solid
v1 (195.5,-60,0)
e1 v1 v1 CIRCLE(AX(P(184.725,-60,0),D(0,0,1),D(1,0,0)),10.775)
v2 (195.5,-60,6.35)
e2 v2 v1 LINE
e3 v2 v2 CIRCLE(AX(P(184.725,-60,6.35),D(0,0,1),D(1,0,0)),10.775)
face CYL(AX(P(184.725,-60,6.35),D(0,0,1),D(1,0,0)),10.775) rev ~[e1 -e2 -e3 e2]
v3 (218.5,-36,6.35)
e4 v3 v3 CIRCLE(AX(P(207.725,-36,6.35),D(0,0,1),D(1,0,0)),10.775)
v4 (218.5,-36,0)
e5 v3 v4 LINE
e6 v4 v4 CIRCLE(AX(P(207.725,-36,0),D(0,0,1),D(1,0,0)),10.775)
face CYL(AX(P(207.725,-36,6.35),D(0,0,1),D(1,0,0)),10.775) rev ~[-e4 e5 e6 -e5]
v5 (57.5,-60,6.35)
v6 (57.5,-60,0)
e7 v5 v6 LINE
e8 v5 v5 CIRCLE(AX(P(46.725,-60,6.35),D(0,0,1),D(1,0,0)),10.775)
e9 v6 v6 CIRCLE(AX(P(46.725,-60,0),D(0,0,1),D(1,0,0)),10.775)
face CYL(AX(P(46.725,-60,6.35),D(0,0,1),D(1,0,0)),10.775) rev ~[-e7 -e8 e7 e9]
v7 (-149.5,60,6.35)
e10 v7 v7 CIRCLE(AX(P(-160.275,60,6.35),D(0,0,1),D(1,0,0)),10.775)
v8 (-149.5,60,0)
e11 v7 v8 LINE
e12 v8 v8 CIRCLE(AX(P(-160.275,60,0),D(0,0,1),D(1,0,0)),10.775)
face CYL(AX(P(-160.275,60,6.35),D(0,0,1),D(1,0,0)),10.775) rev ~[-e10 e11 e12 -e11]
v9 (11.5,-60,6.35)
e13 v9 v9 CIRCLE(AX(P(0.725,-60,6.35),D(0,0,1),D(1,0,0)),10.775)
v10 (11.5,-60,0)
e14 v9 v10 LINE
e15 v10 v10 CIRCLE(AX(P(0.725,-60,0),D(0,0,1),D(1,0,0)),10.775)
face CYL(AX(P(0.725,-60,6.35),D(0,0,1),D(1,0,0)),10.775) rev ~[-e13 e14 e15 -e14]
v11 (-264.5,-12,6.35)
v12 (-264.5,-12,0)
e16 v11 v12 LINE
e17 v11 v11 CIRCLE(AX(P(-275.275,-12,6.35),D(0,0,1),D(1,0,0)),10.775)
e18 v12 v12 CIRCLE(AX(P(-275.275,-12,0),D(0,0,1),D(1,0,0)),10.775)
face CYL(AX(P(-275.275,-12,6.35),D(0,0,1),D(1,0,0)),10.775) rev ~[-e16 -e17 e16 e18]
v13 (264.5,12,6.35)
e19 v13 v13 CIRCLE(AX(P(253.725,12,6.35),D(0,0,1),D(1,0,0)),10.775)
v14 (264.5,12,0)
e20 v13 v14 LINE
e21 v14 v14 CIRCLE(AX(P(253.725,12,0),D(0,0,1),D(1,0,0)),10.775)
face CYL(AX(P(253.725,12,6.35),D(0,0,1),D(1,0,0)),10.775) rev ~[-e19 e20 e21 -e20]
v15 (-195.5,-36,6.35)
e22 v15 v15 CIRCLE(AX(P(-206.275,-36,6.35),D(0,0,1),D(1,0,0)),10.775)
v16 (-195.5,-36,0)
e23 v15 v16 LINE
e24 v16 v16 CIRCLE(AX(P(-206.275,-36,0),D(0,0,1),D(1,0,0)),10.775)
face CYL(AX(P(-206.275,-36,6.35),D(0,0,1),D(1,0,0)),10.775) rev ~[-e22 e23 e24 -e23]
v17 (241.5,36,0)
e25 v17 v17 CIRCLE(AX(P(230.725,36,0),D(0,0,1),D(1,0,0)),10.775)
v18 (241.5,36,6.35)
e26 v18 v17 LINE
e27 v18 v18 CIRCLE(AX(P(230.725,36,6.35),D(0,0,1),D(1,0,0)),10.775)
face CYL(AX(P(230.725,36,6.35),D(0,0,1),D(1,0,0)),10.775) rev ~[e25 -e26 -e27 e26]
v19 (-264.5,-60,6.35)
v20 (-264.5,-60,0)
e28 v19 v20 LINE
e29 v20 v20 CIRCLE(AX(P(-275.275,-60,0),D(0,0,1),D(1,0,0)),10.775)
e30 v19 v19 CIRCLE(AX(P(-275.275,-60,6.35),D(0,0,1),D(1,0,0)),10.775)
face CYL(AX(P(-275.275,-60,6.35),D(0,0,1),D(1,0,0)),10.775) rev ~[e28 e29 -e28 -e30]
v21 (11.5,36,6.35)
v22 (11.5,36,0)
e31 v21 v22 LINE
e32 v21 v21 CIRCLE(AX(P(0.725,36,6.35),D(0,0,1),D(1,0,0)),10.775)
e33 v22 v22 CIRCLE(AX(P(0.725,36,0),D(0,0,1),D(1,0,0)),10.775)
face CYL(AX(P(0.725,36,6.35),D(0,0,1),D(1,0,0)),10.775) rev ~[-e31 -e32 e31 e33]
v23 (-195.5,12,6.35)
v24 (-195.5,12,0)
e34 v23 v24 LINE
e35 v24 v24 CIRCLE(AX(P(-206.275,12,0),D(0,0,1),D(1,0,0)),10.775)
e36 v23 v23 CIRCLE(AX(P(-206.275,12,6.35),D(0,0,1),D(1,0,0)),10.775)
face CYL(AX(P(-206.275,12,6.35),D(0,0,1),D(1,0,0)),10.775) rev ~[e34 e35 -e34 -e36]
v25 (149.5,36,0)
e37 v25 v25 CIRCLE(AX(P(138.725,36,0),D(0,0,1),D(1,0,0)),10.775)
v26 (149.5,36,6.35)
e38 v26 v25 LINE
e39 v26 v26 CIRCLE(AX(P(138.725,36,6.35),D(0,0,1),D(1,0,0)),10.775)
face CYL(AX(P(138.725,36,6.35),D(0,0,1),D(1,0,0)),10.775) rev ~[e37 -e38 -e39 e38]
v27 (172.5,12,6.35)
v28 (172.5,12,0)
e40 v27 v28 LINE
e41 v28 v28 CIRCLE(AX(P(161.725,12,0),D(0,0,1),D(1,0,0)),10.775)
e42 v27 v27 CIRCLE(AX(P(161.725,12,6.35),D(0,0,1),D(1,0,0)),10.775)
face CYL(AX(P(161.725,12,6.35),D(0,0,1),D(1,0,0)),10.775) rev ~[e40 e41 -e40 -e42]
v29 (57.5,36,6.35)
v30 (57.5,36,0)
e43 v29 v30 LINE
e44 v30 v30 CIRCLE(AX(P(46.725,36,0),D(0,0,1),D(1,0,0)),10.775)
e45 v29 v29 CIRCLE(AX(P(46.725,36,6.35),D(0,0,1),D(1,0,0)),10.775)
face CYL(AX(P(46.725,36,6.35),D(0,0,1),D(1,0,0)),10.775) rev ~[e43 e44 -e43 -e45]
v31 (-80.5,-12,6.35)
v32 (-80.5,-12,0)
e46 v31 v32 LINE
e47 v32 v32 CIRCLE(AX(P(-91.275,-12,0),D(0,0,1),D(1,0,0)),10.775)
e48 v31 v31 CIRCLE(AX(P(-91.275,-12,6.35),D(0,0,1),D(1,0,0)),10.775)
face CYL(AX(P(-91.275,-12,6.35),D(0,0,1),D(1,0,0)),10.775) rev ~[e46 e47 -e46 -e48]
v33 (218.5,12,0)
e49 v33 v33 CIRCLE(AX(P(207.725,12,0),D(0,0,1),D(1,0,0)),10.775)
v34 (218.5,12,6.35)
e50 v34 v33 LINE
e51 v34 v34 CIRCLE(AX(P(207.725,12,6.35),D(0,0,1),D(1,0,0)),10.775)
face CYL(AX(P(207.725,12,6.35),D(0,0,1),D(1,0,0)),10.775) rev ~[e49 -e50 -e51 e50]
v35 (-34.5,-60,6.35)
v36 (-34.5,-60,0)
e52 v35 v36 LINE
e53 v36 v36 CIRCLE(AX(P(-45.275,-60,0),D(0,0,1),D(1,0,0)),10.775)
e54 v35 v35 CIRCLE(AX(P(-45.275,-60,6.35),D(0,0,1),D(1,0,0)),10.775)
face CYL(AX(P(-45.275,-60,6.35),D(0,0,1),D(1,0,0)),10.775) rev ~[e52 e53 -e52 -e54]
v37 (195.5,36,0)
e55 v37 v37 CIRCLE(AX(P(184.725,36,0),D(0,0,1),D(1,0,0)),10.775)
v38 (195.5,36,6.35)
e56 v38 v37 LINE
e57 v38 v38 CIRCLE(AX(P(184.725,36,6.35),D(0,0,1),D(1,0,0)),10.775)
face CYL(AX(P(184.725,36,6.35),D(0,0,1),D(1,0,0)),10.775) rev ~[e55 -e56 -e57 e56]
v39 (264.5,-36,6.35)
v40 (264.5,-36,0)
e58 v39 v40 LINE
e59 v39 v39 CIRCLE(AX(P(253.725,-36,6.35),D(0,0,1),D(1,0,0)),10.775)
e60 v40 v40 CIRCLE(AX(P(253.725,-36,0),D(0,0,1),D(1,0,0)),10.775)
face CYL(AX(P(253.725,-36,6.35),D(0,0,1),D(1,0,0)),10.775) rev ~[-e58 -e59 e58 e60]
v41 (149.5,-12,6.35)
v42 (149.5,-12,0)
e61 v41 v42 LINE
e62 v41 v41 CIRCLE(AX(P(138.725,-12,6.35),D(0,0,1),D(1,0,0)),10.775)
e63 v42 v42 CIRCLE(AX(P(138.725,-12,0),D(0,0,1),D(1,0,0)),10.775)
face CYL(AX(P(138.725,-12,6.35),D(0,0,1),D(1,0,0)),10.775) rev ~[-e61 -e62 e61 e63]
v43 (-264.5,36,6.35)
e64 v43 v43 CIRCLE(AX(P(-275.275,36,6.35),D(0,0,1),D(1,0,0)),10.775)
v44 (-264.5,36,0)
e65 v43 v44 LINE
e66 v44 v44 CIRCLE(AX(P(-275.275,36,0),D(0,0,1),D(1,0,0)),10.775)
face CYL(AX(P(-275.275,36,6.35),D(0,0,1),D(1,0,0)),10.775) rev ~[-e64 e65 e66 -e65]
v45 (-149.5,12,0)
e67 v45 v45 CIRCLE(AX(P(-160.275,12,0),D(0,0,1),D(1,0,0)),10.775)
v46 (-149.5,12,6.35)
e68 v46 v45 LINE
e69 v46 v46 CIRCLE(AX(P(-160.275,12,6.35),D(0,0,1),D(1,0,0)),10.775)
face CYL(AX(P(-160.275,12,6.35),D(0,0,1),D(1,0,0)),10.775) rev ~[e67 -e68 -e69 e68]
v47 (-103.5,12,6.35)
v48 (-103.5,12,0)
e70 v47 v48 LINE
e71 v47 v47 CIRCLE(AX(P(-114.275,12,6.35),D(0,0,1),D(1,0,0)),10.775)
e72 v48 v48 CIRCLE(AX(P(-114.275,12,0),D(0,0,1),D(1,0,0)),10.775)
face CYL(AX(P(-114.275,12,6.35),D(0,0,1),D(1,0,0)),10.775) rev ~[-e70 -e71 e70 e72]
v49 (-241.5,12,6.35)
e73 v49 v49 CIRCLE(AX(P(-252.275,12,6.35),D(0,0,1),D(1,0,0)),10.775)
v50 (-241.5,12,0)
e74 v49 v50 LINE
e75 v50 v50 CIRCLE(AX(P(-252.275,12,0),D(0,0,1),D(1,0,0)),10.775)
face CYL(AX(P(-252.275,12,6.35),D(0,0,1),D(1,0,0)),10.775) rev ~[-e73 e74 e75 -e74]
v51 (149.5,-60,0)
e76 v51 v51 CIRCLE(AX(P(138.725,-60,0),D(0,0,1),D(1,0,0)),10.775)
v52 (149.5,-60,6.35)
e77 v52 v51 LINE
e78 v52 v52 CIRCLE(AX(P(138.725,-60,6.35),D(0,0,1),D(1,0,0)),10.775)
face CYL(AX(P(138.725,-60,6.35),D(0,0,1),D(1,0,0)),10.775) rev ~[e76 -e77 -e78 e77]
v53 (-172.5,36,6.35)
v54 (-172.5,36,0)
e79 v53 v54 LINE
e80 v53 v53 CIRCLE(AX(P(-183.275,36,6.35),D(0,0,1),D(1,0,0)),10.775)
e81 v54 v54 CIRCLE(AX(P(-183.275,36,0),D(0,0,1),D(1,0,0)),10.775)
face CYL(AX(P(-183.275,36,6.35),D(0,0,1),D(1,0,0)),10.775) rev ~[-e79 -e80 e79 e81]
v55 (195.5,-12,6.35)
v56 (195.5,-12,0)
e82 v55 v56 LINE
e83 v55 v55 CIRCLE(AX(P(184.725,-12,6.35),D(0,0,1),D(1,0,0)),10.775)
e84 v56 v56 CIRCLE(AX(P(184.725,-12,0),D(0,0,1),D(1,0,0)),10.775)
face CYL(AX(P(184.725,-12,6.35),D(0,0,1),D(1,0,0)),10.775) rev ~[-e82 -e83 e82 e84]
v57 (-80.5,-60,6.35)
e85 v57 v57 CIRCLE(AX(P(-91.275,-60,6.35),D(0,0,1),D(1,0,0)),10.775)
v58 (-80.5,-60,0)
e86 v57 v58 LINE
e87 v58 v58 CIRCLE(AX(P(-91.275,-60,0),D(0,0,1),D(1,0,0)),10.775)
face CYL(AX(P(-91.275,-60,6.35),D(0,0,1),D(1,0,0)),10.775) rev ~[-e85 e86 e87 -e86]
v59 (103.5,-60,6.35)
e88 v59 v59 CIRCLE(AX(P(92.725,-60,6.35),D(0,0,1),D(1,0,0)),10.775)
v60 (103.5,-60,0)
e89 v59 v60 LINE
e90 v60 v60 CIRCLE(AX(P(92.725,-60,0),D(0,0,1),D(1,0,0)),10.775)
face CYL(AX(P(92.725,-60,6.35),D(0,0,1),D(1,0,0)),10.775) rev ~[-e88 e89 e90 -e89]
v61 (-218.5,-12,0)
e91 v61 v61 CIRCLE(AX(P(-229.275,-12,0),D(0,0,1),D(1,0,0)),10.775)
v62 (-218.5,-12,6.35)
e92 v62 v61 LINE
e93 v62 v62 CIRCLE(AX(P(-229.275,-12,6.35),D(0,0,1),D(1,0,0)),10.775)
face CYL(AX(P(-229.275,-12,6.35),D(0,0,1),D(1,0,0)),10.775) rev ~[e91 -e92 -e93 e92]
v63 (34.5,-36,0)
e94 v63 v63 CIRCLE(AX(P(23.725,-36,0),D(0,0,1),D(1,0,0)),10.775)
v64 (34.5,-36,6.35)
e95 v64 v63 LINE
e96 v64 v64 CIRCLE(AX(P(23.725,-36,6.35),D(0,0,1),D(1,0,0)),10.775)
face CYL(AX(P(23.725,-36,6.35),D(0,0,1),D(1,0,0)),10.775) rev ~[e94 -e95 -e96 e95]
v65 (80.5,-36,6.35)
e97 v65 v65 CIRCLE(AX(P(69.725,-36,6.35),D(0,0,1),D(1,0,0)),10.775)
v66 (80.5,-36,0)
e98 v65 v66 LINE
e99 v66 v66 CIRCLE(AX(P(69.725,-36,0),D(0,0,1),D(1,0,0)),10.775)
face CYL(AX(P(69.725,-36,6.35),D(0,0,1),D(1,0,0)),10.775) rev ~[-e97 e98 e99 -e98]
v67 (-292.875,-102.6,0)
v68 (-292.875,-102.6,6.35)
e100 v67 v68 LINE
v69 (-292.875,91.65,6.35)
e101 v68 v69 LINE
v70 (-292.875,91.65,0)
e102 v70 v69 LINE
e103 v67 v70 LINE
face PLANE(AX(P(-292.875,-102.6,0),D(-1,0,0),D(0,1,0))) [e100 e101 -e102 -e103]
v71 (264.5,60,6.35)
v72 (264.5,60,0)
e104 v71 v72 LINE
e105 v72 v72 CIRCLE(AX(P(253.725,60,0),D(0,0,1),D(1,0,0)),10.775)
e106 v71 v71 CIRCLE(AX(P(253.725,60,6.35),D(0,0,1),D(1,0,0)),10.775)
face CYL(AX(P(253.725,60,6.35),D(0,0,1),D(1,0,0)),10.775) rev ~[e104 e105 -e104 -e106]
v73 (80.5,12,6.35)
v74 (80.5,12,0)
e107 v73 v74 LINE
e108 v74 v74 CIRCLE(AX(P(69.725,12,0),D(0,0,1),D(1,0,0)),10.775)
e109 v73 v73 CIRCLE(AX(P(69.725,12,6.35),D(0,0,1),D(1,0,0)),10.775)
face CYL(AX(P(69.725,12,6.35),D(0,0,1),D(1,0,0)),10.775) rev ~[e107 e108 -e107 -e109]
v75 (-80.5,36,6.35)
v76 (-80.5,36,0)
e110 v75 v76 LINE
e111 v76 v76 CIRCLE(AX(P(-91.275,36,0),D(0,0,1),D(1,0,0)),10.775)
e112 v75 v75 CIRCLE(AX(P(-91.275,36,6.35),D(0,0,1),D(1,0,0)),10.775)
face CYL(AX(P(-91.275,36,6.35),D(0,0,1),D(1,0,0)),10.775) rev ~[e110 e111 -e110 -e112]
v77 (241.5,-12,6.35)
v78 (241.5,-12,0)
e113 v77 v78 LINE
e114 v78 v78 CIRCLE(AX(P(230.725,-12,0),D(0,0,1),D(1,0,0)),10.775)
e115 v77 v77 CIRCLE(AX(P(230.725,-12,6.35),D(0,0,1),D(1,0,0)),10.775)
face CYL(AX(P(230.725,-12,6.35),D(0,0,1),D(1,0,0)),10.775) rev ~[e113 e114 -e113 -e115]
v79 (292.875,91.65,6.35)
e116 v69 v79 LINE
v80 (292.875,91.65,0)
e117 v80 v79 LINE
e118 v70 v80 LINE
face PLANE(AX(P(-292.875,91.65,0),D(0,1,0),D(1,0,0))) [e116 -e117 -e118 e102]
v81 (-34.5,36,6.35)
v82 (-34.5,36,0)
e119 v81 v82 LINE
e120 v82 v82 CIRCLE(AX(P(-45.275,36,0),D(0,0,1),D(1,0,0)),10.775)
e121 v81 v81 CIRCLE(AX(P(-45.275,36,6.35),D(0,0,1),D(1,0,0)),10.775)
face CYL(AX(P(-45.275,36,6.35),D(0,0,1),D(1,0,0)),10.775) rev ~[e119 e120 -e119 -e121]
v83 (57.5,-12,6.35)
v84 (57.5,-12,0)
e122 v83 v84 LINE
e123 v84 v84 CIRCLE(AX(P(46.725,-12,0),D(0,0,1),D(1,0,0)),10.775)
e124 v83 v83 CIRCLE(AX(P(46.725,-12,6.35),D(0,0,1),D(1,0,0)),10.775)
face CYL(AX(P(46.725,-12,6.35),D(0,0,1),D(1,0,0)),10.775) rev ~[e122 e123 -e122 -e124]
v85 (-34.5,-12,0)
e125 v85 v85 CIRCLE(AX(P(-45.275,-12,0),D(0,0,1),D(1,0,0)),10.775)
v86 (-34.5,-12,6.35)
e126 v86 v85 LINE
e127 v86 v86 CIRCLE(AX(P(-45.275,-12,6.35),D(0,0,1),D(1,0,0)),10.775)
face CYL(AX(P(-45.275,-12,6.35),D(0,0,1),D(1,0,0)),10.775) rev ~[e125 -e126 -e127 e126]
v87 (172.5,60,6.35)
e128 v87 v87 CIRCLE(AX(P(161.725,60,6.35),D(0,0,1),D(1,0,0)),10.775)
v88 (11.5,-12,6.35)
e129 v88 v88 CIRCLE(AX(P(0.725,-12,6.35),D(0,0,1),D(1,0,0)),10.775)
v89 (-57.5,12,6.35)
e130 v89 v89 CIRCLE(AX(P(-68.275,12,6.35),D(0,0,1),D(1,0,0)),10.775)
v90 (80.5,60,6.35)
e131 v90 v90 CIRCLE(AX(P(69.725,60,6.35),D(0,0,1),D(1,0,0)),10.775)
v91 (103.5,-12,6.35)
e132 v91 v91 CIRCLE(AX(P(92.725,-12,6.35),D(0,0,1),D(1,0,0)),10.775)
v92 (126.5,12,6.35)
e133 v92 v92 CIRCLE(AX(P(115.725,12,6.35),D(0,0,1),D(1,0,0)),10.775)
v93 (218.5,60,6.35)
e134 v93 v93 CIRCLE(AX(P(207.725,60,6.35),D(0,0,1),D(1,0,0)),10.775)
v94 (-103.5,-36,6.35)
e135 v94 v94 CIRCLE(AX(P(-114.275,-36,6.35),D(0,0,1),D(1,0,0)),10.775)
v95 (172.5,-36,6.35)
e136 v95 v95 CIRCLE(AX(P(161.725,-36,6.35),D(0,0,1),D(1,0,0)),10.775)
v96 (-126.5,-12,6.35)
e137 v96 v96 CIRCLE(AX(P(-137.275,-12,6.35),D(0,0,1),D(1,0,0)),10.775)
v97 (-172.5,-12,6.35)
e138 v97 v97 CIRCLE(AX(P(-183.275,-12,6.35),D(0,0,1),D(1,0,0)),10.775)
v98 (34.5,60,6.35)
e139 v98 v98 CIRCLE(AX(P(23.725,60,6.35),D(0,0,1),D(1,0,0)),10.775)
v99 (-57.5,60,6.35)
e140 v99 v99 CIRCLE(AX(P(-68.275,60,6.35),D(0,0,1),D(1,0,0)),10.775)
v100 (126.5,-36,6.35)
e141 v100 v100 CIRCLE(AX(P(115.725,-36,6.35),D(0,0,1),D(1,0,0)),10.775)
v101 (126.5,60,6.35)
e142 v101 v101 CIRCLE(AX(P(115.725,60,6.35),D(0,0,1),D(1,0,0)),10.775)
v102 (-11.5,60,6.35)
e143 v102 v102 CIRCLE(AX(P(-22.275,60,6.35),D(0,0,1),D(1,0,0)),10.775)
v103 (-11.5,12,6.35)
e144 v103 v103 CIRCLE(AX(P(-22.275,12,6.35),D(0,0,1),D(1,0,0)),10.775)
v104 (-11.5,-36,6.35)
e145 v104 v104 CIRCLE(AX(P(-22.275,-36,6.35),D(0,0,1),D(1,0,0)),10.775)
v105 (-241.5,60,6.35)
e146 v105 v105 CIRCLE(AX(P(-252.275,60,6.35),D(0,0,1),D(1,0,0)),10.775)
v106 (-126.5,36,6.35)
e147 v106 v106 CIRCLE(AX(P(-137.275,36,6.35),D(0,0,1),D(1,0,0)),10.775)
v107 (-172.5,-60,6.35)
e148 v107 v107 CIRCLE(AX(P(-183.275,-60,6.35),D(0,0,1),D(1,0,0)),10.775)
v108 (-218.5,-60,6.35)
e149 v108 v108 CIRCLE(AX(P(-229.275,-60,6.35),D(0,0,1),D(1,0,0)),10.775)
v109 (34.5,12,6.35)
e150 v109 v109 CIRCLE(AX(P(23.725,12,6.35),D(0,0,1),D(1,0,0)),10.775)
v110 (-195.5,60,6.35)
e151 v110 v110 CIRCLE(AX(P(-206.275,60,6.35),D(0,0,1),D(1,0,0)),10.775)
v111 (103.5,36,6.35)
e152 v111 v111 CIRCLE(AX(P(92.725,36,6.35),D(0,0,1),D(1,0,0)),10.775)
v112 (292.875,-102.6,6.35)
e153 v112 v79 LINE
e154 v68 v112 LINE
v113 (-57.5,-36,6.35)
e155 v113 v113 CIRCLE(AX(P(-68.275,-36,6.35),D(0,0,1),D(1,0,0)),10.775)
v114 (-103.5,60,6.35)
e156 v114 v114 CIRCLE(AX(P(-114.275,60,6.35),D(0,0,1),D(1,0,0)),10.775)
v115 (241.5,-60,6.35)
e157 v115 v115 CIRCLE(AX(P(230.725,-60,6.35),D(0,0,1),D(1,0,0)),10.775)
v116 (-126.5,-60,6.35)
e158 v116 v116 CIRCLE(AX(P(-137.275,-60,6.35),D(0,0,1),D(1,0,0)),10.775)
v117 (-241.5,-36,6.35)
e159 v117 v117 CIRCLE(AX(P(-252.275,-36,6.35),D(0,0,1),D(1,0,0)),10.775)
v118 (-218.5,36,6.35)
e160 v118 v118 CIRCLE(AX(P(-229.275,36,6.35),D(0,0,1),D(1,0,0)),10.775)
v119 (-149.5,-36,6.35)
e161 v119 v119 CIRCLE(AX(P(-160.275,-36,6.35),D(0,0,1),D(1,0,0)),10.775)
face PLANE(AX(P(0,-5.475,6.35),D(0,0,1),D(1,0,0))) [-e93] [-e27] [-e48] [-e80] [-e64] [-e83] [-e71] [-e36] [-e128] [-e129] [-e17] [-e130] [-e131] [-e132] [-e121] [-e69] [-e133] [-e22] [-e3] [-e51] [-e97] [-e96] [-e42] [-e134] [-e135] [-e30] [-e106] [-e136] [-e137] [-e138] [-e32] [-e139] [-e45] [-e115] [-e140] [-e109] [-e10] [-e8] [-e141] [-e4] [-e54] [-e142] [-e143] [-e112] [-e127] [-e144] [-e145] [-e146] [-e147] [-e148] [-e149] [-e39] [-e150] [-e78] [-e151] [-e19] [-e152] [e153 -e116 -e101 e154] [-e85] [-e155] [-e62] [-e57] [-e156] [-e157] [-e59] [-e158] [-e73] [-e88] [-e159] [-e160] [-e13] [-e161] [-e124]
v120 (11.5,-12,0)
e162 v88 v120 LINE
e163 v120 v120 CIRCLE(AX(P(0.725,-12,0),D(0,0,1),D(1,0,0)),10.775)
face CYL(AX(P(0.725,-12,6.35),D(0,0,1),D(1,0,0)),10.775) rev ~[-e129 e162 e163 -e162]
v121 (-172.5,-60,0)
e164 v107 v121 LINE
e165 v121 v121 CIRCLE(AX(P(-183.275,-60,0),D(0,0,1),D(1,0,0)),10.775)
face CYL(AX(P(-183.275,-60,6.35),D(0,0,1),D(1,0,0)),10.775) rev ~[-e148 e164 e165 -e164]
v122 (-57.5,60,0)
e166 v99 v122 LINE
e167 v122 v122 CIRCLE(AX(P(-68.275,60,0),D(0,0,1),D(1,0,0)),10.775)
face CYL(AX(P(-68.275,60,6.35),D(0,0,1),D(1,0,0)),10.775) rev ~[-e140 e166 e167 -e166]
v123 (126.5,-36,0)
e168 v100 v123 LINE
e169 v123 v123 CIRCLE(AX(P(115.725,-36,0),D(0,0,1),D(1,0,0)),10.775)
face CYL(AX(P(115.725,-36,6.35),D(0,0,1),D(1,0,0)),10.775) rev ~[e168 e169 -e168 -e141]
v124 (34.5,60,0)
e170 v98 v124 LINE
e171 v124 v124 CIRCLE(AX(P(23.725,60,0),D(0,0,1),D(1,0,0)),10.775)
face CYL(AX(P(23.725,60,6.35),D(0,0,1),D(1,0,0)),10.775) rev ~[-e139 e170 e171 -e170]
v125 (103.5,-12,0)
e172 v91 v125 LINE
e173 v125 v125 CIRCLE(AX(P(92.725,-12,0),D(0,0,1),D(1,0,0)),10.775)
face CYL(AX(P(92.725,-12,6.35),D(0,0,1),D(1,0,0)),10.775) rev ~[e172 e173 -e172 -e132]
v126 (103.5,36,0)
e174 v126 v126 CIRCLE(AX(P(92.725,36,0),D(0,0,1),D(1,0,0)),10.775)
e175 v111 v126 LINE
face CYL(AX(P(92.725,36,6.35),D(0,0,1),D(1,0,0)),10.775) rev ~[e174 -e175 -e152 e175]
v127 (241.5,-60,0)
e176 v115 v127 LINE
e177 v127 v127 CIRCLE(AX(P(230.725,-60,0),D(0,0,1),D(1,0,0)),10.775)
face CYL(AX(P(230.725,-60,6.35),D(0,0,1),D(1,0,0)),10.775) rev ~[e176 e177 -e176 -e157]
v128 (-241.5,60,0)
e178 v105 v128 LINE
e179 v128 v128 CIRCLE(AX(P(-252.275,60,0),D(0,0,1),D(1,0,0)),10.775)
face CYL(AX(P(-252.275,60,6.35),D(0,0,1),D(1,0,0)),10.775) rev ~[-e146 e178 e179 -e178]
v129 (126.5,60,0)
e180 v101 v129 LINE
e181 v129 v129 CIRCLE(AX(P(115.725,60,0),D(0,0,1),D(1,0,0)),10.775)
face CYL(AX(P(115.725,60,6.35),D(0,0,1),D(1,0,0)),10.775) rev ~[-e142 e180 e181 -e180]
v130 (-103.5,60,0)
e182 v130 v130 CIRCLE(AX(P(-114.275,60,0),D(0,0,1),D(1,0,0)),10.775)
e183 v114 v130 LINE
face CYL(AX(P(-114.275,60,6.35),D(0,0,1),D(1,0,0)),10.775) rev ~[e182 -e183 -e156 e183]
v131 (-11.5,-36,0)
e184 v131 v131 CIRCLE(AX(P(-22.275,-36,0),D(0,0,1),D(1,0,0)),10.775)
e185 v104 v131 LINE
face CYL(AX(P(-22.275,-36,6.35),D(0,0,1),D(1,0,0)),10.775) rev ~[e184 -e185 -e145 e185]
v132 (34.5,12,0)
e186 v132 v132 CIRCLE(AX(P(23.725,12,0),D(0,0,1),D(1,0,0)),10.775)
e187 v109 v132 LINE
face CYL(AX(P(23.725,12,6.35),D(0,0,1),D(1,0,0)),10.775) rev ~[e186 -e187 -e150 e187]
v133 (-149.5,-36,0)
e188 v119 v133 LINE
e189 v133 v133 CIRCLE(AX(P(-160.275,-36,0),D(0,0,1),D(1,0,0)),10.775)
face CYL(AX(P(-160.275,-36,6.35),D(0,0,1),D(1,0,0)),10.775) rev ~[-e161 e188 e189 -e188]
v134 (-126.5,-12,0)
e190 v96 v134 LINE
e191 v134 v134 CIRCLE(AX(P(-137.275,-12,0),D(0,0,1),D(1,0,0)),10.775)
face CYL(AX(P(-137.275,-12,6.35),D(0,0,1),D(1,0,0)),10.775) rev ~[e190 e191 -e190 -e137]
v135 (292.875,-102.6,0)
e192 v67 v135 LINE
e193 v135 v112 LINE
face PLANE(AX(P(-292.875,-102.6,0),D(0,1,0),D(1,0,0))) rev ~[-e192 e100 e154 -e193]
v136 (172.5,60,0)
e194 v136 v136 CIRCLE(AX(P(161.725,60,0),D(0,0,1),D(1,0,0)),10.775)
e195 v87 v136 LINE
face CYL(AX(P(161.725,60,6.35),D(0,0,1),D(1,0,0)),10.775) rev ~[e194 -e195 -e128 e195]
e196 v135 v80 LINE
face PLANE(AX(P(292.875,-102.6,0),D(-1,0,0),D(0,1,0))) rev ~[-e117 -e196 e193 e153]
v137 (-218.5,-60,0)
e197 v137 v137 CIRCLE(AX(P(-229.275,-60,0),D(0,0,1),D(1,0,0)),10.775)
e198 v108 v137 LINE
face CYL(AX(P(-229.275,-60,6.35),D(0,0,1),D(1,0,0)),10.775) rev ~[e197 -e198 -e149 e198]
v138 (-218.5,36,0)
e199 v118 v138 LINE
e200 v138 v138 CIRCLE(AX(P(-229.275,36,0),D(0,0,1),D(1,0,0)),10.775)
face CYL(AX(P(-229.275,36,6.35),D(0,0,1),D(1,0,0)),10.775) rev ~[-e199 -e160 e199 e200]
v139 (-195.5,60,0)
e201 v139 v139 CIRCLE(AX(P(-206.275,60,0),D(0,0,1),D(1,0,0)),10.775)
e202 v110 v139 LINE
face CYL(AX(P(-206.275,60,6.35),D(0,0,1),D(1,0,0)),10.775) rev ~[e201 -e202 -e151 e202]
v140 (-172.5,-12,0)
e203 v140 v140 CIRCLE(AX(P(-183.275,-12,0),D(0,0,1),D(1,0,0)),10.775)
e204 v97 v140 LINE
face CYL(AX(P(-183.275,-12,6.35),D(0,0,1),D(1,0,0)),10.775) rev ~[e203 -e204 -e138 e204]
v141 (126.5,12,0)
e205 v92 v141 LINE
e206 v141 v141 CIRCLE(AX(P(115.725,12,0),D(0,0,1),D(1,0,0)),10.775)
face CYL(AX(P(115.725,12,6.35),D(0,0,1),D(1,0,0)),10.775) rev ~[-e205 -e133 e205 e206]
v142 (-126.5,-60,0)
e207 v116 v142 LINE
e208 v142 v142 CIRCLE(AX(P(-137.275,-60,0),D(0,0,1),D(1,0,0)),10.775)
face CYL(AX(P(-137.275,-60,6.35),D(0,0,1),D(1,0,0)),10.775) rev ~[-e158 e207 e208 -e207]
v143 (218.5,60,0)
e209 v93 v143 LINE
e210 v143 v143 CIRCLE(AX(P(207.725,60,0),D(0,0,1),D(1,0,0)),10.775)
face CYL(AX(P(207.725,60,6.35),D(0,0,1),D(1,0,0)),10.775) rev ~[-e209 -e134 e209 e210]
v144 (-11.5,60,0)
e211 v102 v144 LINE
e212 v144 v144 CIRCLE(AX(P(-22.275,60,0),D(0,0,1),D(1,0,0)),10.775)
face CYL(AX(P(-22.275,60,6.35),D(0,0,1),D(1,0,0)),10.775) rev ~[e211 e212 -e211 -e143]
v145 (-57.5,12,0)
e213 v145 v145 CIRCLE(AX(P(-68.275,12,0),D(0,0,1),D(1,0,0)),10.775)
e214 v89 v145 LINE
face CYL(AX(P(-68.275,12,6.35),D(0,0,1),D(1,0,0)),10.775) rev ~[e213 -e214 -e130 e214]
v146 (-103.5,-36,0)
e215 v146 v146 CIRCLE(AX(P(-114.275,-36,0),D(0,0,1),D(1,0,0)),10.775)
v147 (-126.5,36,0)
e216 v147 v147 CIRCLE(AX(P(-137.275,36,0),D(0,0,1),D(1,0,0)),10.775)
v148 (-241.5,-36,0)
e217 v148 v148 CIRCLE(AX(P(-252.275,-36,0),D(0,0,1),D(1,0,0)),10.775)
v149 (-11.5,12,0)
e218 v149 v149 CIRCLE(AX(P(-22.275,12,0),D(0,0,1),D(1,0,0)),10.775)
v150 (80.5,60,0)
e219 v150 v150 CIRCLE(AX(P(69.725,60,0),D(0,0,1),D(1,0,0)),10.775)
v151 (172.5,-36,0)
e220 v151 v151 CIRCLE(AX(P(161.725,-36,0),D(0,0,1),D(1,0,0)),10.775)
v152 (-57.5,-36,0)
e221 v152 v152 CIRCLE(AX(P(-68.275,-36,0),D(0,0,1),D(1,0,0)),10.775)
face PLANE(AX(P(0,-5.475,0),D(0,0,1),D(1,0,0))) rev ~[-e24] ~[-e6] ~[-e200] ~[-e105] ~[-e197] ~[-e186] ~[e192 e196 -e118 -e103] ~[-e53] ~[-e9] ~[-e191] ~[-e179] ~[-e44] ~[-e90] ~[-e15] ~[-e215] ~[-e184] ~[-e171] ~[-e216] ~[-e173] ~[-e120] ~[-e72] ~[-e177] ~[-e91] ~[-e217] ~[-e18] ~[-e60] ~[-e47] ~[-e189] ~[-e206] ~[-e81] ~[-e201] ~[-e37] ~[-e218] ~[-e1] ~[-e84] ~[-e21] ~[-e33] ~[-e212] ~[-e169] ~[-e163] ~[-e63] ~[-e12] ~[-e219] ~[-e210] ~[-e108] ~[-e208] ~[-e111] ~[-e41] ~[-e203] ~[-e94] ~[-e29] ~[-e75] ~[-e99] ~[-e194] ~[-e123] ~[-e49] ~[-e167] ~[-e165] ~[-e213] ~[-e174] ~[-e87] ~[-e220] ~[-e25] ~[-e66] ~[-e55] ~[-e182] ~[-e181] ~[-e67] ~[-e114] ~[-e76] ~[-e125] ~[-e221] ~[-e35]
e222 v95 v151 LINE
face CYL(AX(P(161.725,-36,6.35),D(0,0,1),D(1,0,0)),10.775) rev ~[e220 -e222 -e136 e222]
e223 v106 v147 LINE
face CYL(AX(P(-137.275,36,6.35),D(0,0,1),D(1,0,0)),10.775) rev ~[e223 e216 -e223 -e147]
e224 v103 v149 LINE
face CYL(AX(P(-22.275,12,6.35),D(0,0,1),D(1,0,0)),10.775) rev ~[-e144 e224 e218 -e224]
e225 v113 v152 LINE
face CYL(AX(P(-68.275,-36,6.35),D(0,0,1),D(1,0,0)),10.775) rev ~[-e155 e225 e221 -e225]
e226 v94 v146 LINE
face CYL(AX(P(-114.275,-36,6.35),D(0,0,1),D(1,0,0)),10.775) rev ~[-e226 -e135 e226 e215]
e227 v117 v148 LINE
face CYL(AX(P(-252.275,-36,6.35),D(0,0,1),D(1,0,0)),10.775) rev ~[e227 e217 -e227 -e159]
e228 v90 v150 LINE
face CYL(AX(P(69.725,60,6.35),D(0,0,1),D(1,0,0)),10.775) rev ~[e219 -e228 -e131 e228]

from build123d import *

# Parameters (mm, degrees)
SKETCH1_W                  = 585.750000132
SKETCH1_H                  = 194.250000104
BOSS_EXTRUDE1_DEPTH        = 6.35
SKETCH3_R                  = 10.775
CUT_EXTRUDE1_DEPTH         = 311.391443479
SKETCH4_R                  = 10.775
CUT_EXTRUDE2_DEPTH         = 311.391443479
LPATTERN1_COUNT            = 12
LPATTERN1_PITCH            = 46
LPATTERN2_COUNT            = 3
LPATTERN2_PITCH            = 48
LPATTERN2_COPY_1_SKETCH_R  = 10.775
LPATTERN2_COPY_1_DEPTH     = 311.391443479
LPATTERN2_COPY_2_SKETCH_R  = 10.775
LPATTERN2_COPY_2_DEPTH     = 311.391443479
LPATTERN2_COPY_3_SKETCH_R  = 10.775
LPATTERN2_COPY_3_DEPTH     = 311.391443479
LPATTERN2_COPY_4_SKETCH_R  = 10.775
LPATTERN2_COPY_4_DEPTH     = 311.391443479
LPATTERN2_COPY_5_SKETCH_R  = 10.775
LPATTERN2_COPY_5_DEPTH     = 311.391443479
LPATTERN2_COPY_6_SKETCH_R  = 10.775
LPATTERN2_COPY_6_DEPTH     = 311.391443479
LPATTERN2_COPY_7_SKETCH_R  = 10.775
LPATTERN2_COPY_7_DEPTH     = 311.391443479
LPATTERN2_COPY_8_SKETCH_R  = 10.775
LPATTERN2_COPY_8_DEPTH     = 311.391443479
LPATTERN2_COPY_9_SKETCH_R  = 10.775
LPATTERN2_COPY_9_DEPTH     = 311.391443479
LPATTERN2_COPY_10_SKETCH_R = 10.775
LPATTERN2_COPY_10_DEPTH    = 311.391443479
LPATTERN2_COPY_11_SKETCH_R = 10.775
LPATTERN2_COPY_11_DEPTH    = 311.391443479
LPATTERN2_COPY_12_SKETCH_R = 10.775
LPATTERN2_COPY_12_DEPTH    = 311.391443479
LPATTERN2_COPY_13_SKETCH_R = 10.775
LPATTERN2_COPY_13_DEPTH    = 311.391443479
LPATTERN2_COPY_14_SKETCH_R = 10.775
LPATTERN2_COPY_14_DEPTH    = 311.391443479
LPATTERN2_COPY_15_SKETCH_R = 10.775
LPATTERN2_COPY_15_DEPTH    = 311.391443479
LPATTERN2_COPY_16_SKETCH_R = 10.775
LPATTERN2_COPY_16_DEPTH    = 311.391443479
LPATTERN2_COPY_17_SKETCH_R = 10.775
LPATTERN2_COPY_17_DEPTH    = 311.391443479
LPATTERN2_COPY_18_SKETCH_R = 10.775
LPATTERN2_COPY_18_DEPTH    = 311.391443479
LPATTERN2_COPY_19_SKETCH_R = 10.775
LPATTERN2_COPY_19_DEPTH    = 311.391443479
LPATTERN2_COPY_20_SKETCH_R = 10.775
LPATTERN2_COPY_20_DEPTH    = 311.391443479
LPATTERN2_COPY_21_SKETCH_R = 10.775
LPATTERN2_COPY_21_DEPTH    = 311.391443479
LPATTERN2_COPY_22_SKETCH_R = 10.775
LPATTERN2_COPY_22_DEPTH    = 311.391443479
LPATTERN2_COPY_23_SKETCH_R = 10.775
LPATTERN2_COPY_23_DEPTH    = 311.391443479
LPATTERN2_COPY_24_SKETCH_R = 10.775
LPATTERN2_COPY_24_DEPTH    = 311.391443479
LPATTERN2_COPY_25_SKETCH_R = 10.775
LPATTERN2_COPY_25_DEPTH    = 311.391443479
LPATTERN2_COPY_26_SKETCH_R = 10.775
LPATTERN2_COPY_26_DEPTH    = 311.391443479
LPATTERN2_COPY_27_SKETCH_R = 10.775
LPATTERN2_COPY_27_DEPTH    = 311.391443479
LPATTERN2_COPY_28_SKETCH_R = 10.775
LPATTERN2_COPY_28_DEPTH    = 311.391443479
LPATTERN2_COPY_29_SKETCH_R = 10.775
LPATTERN2_COPY_29_DEPTH    = 311.391443479
LPATTERN2_COPY_30_SKETCH_R = 10.775
LPATTERN2_COPY_30_DEPTH    = 311.391443479
LPATTERN2_COPY_31_SKETCH_R = 10.775
LPATTERN2_COPY_31_DEPTH    = 311.391443479
LPATTERN2_COPY_32_SKETCH_R = 10.775
LPATTERN2_COPY_32_DEPTH    = 311.391443479
LPATTERN2_COPY_33_SKETCH_R = 10.775
LPATTERN2_COPY_33_DEPTH    = 311.391443479
LPATTERN2_COPY_34_SKETCH_R = 10.775
LPATTERN2_COPY_34_DEPTH    = 311.391443479
LPATTERN2_COPY_35_SKETCH_R = 10.775
LPATTERN2_COPY_35_DEPTH    = 311.391443479
LPATTERN2_COPY_36_SKETCH_R = 10.775
LPATTERN2_COPY_36_DEPTH    = 311.391443479
LPATTERN2_COPY_37_SKETCH_R = 10.775
LPATTERN2_COPY_37_DEPTH    = 311.391443479
LPATTERN2_COPY_38_SKETCH_R = 10.775
LPATTERN2_COPY_38_DEPTH    = 311.391443479
LPATTERN2_COPY_39_SKETCH_R = 10.775
LPATTERN2_COPY_39_DEPTH    = 311.391443479
LPATTERN2_COPY_40_SKETCH_R = 10.775
LPATTERN2_COPY_40_DEPTH    = 311.391443479
LPATTERN2_COPY_41_SKETCH_R = 10.775
LPATTERN2_COPY_41_DEPTH    = 311.391443479
LPATTERN2_COPY_42_SKETCH_R = 10.775
LPATTERN2_COPY_42_DEPTH    = 311.391443479
LPATTERN2_COPY_43_SKETCH_R = 10.775
LPATTERN2_COPY_43_DEPTH    = 311.391443479
LPATTERN2_COPY_44_SKETCH_R = 10.775
LPATTERN2_COPY_44_DEPTH    = 311.391443479


with BuildPart() as part:
    # Sketch1 → Boss-Extrude1 (new body)
    with BuildSketch(Plane.XY):
        with Locations((0, -5.475000052)):
            Rectangle(SKETCH1_W, SKETCH1_H)
    extrude(amount=BOSS_EXTRUDE1_DEPTH)

    # Sketch3 → Cut-Extrude1 (cut, through all)
    with BuildSketch(Plane.XY.offset(6.35)):
        with Locations((-275.275, -60)):
            Circle(SKETCH3_R)
    cut_extrude1 = extrude(amount=-CUT_EXTRUDE1_DEPTH, mode=Mode.SUBTRACT)

    # Sketch4 → Cut-Extrude2 (cut, through all)
    with BuildSketch(Plane.XY.offset(6.35)):
        with Locations((-252.275, -36)):
            Circle(SKETCH4_R)
    cut_extrude2 = extrude(amount=-CUT_EXTRUDE2_DEPTH, mode=Mode.SUBTRACT)

    # LPattern1: Cut-Extrude1, Cut-Extrude2 ×12
    with Locations(*[(i * LPATTERN1_PITCH, 0, 0) for i in range(1, LPATTERN1_COUNT)]):
        add(cut_extrude1, mode=Mode.SUBTRACT)
        add(cut_extrude2, mode=Mode.SUBTRACT)

    # LPattern2: Cut-Extrude1, Cut-Extrude2 ×3
    with Locations(*[(0, i * LPATTERN2_PITCH, 0) for i in range(1, LPATTERN2_COUNT)]):
        add(cut_extrude1, mode=Mode.SUBTRACT)
        add(cut_extrude2, mode=Mode.SUBTRACT)

    # LPattern2 copy 1 sketch → LPattern2 copy 1 (cut, through all)
    with BuildSketch(Plane(origin=(46, 48, 6.35), x_dir=(1, 0, 0), z_dir=(0, 0, 1))):
        with Locations((-275.275, -60)):
            Circle(LPATTERN2_COPY_1_SKETCH_R)
    extrude(amount=-LPATTERN2_COPY_1_DEPTH, mode=Mode.SUBTRACT)

    # LPattern2 copy 2 sketch → LPattern2 copy 2 (cut, through all)
    with BuildSketch(Plane(origin=(46, 96, 6.35), x_dir=(1, 0, 0), z_dir=(0, 0, 1))):
        with Locations((-275.275, -60)):
            Circle(LPATTERN2_COPY_2_SKETCH_R)
    extrude(amount=-LPATTERN2_COPY_2_DEPTH, mode=Mode.SUBTRACT)

    # LPattern2 copy 3 sketch → LPattern2 copy 3 (cut, through all)
    with BuildSketch(Plane(origin=(92, 48, 6.35), x_dir=(1, 0, 0), z_dir=(0, 0, 1))):
        with Locations((-275.275, -60)):
            Circle(LPATTERN2_COPY_3_SKETCH_R)
    extrude(amount=-LPATTERN2_COPY_3_DEPTH, mode=Mode.SUBTRACT)

    # LPattern2 copy 4 sketch → LPattern2 copy 4 (cut, through all)
    with BuildSketch(Plane(origin=(92, 96, 6.35), x_dir=(1, 0, 0), z_dir=(0, 0, 1))):
        with Locations((-275.275, -60)):
            Circle(LPATTERN2_COPY_4_SKETCH_R)
    extrude(amount=-LPATTERN2_COPY_4_DEPTH, mode=Mode.SUBTRACT)

    # LPattern2 copy 5 sketch → LPattern2 copy 5 (cut, through all)
    with BuildSketch(Plane(origin=(138, 48, 6.35), x_dir=(1, 0, 0), z_dir=(0, 0, 1))):
        with Locations((-275.275, -60)):
            Circle(LPATTERN2_COPY_5_SKETCH_R)
    extrude(amount=-LPATTERN2_COPY_5_DEPTH, mode=Mode.SUBTRACT)

    # LPattern2 copy 6 sketch → LPattern2 copy 6 (cut, through all)
    with BuildSketch(Plane(origin=(138, 96, 6.35), x_dir=(1, 0, 0), z_dir=(0, 0, 1))):
        with Locations((-275.275, -60)):
            Circle(LPATTERN2_COPY_6_SKETCH_R)
    extrude(amount=-LPATTERN2_COPY_6_DEPTH, mode=Mode.SUBTRACT)

    # LPattern2 copy 7 sketch → LPattern2 copy 7 (cut, through all)
    with BuildSketch(Plane(origin=(184, 48, 6.35), x_dir=(1, 0, 0), z_dir=(0, 0, 1))):
        with Locations((-275.275, -60)):
            Circle(LPATTERN2_COPY_7_SKETCH_R)
    extrude(amount=-LPATTERN2_COPY_7_DEPTH, mode=Mode.SUBTRACT)

    # LPattern2 copy 8 sketch → LPattern2 copy 8 (cut, through all)
    with BuildSketch(Plane(origin=(184, 96, 6.35), x_dir=(1, 0, 0), z_dir=(0, 0, 1))):
        with Locations((-275.275, -60)):
            Circle(LPATTERN2_COPY_8_SKETCH_R)
    extrude(amount=-LPATTERN2_COPY_8_DEPTH, mode=Mode.SUBTRACT)

    # LPattern2 copy 9 sketch → LPattern2 copy 9 (cut, through all)
    with BuildSketch(Plane(origin=(230, 48, 6.35), x_dir=(1, 0, 0), z_dir=(0, 0, 1))):
        with Locations((-275.275, -60)):
            Circle(LPATTERN2_COPY_9_SKETCH_R)
    extrude(amount=-LPATTERN2_COPY_9_DEPTH, mode=Mode.SUBTRACT)

    # LPattern2 copy 10 sketch → LPattern2 copy 10 (cut, through all)
    with BuildSketch(Plane(origin=(230, 96, 6.35), x_dir=(1, 0, 0), z_dir=(0, 0, 1))):
        with Locations((-275.275, -60)):
            Circle(LPATTERN2_COPY_10_SKETCH_R)
    extrude(amount=-LPATTERN2_COPY_10_DEPTH, mode=Mode.SUBTRACT)

    # LPattern2 copy 11 sketch → LPattern2 copy 11 (cut, through all)
    with BuildSketch(Plane(origin=(276, 48, 6.35), x_dir=(1, 0, 0), z_dir=(0, 0, 1))):
        with Locations((-275.275, -60)):
            Circle(LPATTERN2_COPY_11_SKETCH_R)
    extrude(amount=-LPATTERN2_COPY_11_DEPTH, mode=Mode.SUBTRACT)

    # LPattern2 copy 12 sketch → LPattern2 copy 12 (cut, through all)
    with BuildSketch(Plane(origin=(276, 96, 6.35), x_dir=(1, 0, 0), z_dir=(0, 0, 1))):
        with Locations((-275.275, -60)):
            Circle(LPATTERN2_COPY_12_SKETCH_R)
    extrude(amount=-LPATTERN2_COPY_12_DEPTH, mode=Mode.SUBTRACT)

    # LPattern2 copy 13 sketch → LPattern2 copy 13 (cut, through all)
    with BuildSketch(Plane(origin=(322, 48, 6.35), x_dir=(1, 0, 0), z_dir=(0, 0, 1))):
        with Locations((-275.275, -60)):
            Circle(LPATTERN2_COPY_13_SKETCH_R)
    extrude(amount=-LPATTERN2_COPY_13_DEPTH, mode=Mode.SUBTRACT)

    # LPattern2 copy 14 sketch → LPattern2 copy 14 (cut, through all)
    with BuildSketch(Plane(origin=(322, 96, 6.35), x_dir=(1, 0, 0), z_dir=(0, 0, 1))):
        with Locations((-275.275, -60)):
            Circle(LPATTERN2_COPY_14_SKETCH_R)
    extrude(amount=-LPATTERN2_COPY_14_DEPTH, mode=Mode.SUBTRACT)

    # LPattern2 copy 15 sketch → LPattern2 copy 15 (cut, through all)
    with BuildSketch(Plane(origin=(368, 48, 6.35), x_dir=(1, 0, 0), z_dir=(0, 0, 1))):
        with Locations((-275.275, -60)):
            Circle(LPATTERN2_COPY_15_SKETCH_R)
    extrude(amount=-LPATTERN2_COPY_15_DEPTH, mode=Mode.SUBTRACT)

    # LPattern2 copy 16 sketch → LPattern2 copy 16 (cut, through all)
    with BuildSketch(Plane(origin=(368, 96, 6.35), x_dir=(1, 0, 0), z_dir=(0, 0, 1))):
        with Locations((-275.275, -60)):
            Circle(LPATTERN2_COPY_16_SKETCH_R)
    extrude(amount=-LPATTERN2_COPY_16_DEPTH, mode=Mode.SUBTRACT)

    # LPattern2 copy 17 sketch → LPattern2 copy 17 (cut, through all)
    with BuildSketch(Plane(origin=(414, 48, 6.35), x_dir=(1, 0, 0), z_dir=(0, 0, 1))):
        with Locations((-275.275, -60)):
            Circle(LPATTERN2_COPY_17_SKETCH_R)
    extrude(amount=-LPATTERN2_COPY_17_DEPTH, mode=Mode.SUBTRACT)

    # LPattern2 copy 18 sketch → LPattern2 copy 18 (cut, through all)
    with BuildSketch(Plane(origin=(414, 96, 6.35), x_dir=(1, 0, 0), z_dir=(0, 0, 1))):
        with Locations((-275.275, -60)):
            Circle(LPATTERN2_COPY_18_SKETCH_R)
    extrude(amount=-LPATTERN2_COPY_18_DEPTH, mode=Mode.SUBTRACT)

    # LPattern2 copy 19 sketch → LPattern2 copy 19 (cut, through all)
    with BuildSketch(Plane(origin=(460, 48, 6.35), x_dir=(1, 0, 0), z_dir=(0, 0, 1))):
        with Locations((-275.275, -60)):
            Circle(LPATTERN2_COPY_19_SKETCH_R)
    extrude(amount=-LPATTERN2_COPY_19_DEPTH, mode=Mode.SUBTRACT)

    # LPattern2 copy 20 sketch → LPattern2 copy 20 (cut, through all)
    with BuildSketch(Plane(origin=(460, 96, 6.35), x_dir=(1, 0, 0), z_dir=(0, 0, 1))):
        with Locations((-275.275, -60)):
            Circle(LPATTERN2_COPY_20_SKETCH_R)
    extrude(amount=-LPATTERN2_COPY_20_DEPTH, mode=Mode.SUBTRACT)

    # LPattern2 copy 21 sketch → LPattern2 copy 21 (cut, through all)
    with BuildSketch(Plane(origin=(506, 48, 6.35), x_dir=(1, 0, 0), z_dir=(0, 0, 1))):
        with Locations((-275.275, -60)):
            Circle(LPATTERN2_COPY_21_SKETCH_R)
    extrude(amount=-LPATTERN2_COPY_21_DEPTH, mode=Mode.SUBTRACT)

    # LPattern2 copy 22 sketch → LPattern2 copy 22 (cut, through all)
    with BuildSketch(Plane(origin=(506, 96, 6.35), x_dir=(1, 0, 0), z_dir=(0, 0, 1))):
        with Locations((-275.275, -60)):
            Circle(LPATTERN2_COPY_22_SKETCH_R)
    extrude(amount=-LPATTERN2_COPY_22_DEPTH, mode=Mode.SUBTRACT)

    # LPattern2 copy 23 sketch → LPattern2 copy 23 (cut, through all)
    with BuildSketch(Plane(origin=(46, 48, 6.35), x_dir=(1, 0, 0), z_dir=(0, 0, 1))):
        with Locations((-252.275, -36)):
            Circle(LPATTERN2_COPY_23_SKETCH_R)
    extrude(amount=-LPATTERN2_COPY_23_DEPTH, mode=Mode.SUBTRACT)

    # LPattern2 copy 24 sketch → LPattern2 copy 24 (cut, through all)
    with BuildSketch(Plane(origin=(46, 96, 6.35), x_dir=(1, 0, 0), z_dir=(0, 0, 1))):
        with Locations((-252.275, -36)):
            Circle(LPATTERN2_COPY_24_SKETCH_R)
    extrude(amount=-LPATTERN2_COPY_24_DEPTH, mode=Mode.SUBTRACT)

    # LPattern2 copy 25 sketch → LPattern2 copy 25 (cut, through all)
    with BuildSketch(Plane(origin=(92, 48, 6.35), x_dir=(1, 0, 0), z_dir=(0, 0, 1))):
        with Locations((-252.275, -36)):
            Circle(LPATTERN2_COPY_25_SKETCH_R)
    extrude(amount=-LPATTERN2_COPY_25_DEPTH, mode=Mode.SUBTRACT)

    # LPattern2 copy 26 sketch → LPattern2 copy 26 (cut, through all)
    with BuildSketch(Plane(origin=(92, 96, 6.35), x_dir=(1, 0, 0), z_dir=(0, 0, 1))):
        with Locations((-252.275, -36)):
            Circle(LPATTERN2_COPY_26_SKETCH_R)
    extrude(amount=-LPATTERN2_COPY_26_DEPTH, mode=Mode.SUBTRACT)

    # LPattern2 copy 27 sketch → LPattern2 copy 27 (cut, through all)
    with BuildSketch(Plane(origin=(138, 48, 6.35), x_dir=(1, 0, 0), z_dir=(0, 0, 1))):
        with Locations((-252.275, -36)):
            Circle(LPATTERN2_COPY_27_SKETCH_R)
    extrude(amount=-LPATTERN2_COPY_27_DEPTH, mode=Mode.SUBTRACT)

    # LPattern2 copy 28 sketch → LPattern2 copy 28 (cut, through all)
    with BuildSketch(Plane(origin=(138, 96, 6.35), x_dir=(1, 0, 0), z_dir=(0, 0, 1))):
        with Locations((-252.275, -36)):
            Circle(LPATTERN2_COPY_28_SKETCH_R)
    extrude(amount=-LPATTERN2_COPY_28_DEPTH, mode=Mode.SUBTRACT)

    # LPattern2 copy 29 sketch → LPattern2 copy 29 (cut, through all)
    with BuildSketch(Plane(origin=(184, 48, 6.35), x_dir=(1, 0, 0), z_dir=(0, 0, 1))):
        with Locations((-252.275, -36)):
            Circle(LPATTERN2_COPY_29_SKETCH_R)
    extrude(amount=-LPATTERN2_COPY_29_DEPTH, mode=Mode.SUBTRACT)

    # LPattern2 copy 30 sketch → LPattern2 copy 30 (cut, through all)
    with BuildSketch(Plane(origin=(184, 96, 6.35), x_dir=(1, 0, 0), z_dir=(0, 0, 1))):
        with Locations((-252.275, -36)):
            Circle(LPATTERN2_COPY_30_SKETCH_R)
    extrude(amount=-LPATTERN2_COPY_30_DEPTH, mode=Mode.SUBTRACT)

    # LPattern2 copy 31 sketch → LPattern2 copy 31 (cut, through all)
    with BuildSketch(Plane(origin=(230, 48, 6.35), x_dir=(1, 0, 0), z_dir=(0, 0, 1))):
        with Locations((-252.275, -36)):
            Circle(LPATTERN2_COPY_31_SKETCH_R)
    extrude(amount=-LPATTERN2_COPY_31_DEPTH, mode=Mode.SUBTRACT)

    # LPattern2 copy 32 sketch → LPattern2 copy 32 (cut, through all)
    with BuildSketch(Plane(origin=(230, 96, 6.35), x_dir=(1, 0, 0), z_dir=(0, 0, 1))):
        with Locations((-252.275, -36)):
            Circle(LPATTERN2_COPY_32_SKETCH_R)
    extrude(amount=-LPATTERN2_COPY_32_DEPTH, mode=Mode.SUBTRACT)

    # LPattern2 copy 33 sketch → LPattern2 copy 33 (cut, through all)
    with BuildSketch(Plane(origin=(276, 48, 6.35), x_dir=(1, 0, 0), z_dir=(0, 0, 1))):
        with Locations((-252.275, -36)):
            Circle(LPATTERN2_COPY_33_SKETCH_R)
    extrude(amount=-LPATTERN2_COPY_33_DEPTH, mode=Mode.SUBTRACT)

    # LPattern2 copy 34 sketch → LPattern2 copy 34 (cut, through all)
    with BuildSketch(Plane(origin=(276, 96, 6.35), x_dir=(1, 0, 0), z_dir=(0, 0, 1))):
        with Locations((-252.275, -36)):
            Circle(LPATTERN2_COPY_34_SKETCH_R)
    extrude(amount=-LPATTERN2_COPY_34_DEPTH, mode=Mode.SUBTRACT)

    # LPattern2 copy 35 sketch → LPattern2 copy 35 (cut, through all)
    with BuildSketch(Plane(origin=(322, 48, 6.35), x_dir=(1, 0, 0), z_dir=(0, 0, 1))):
        with Locations((-252.275, -36)):
            Circle(LPATTERN2_COPY_35_SKETCH_R)
    extrude(amount=-LPATTERN2_COPY_35_DEPTH, mode=Mode.SUBTRACT)

    # LPattern2 copy 36 sketch → LPattern2 copy 36 (cut, through all)
    with BuildSketch(Plane(origin=(322, 96, 6.35), x_dir=(1, 0, 0), z_dir=(0, 0, 1))):
        with Locations((-252.275, -36)):
            Circle(LPATTERN2_COPY_36_SKETCH_R)
    extrude(amount=-LPATTERN2_COPY_36_DEPTH, mode=Mode.SUBTRACT)

    # LPattern2 copy 37 sketch → LPattern2 copy 37 (cut, through all)
    with BuildSketch(Plane(origin=(368, 48, 6.35), x_dir=(1, 0, 0), z_dir=(0, 0, 1))):
        with Locations((-252.275, -36)):
            Circle(LPATTERN2_COPY_37_SKETCH_R)
    extrude(amount=-LPATTERN2_COPY_37_DEPTH, mode=Mode.SUBTRACT)

    # LPattern2 copy 38 sketch → LPattern2 copy 38 (cut, through all)
    with BuildSketch(Plane(origin=(368, 96, 6.35), x_dir=(1, 0, 0), z_dir=(0, 0, 1))):
        with Locations((-252.275, -36)):
            Circle(LPATTERN2_COPY_38_SKETCH_R)
    extrude(amount=-LPATTERN2_COPY_38_DEPTH, mode=Mode.SUBTRACT)

    # LPattern2 copy 39 sketch → LPattern2 copy 39 (cut, through all)
    with BuildSketch(Plane(origin=(414, 48, 6.35), x_dir=(1, 0, 0), z_dir=(0, 0, 1))):
        with Locations((-252.275, -36)):
            Circle(LPATTERN2_COPY_39_SKETCH_R)
    extrude(amount=-LPATTERN2_COPY_39_DEPTH, mode=Mode.SUBTRACT)

    # LPattern2 copy 40 sketch → LPattern2 copy 40 (cut, through all)
    with BuildSketch(Plane(origin=(414, 96, 6.35), x_dir=(1, 0, 0), z_dir=(0, 0, 1))):
        with Locations((-252.275, -36)):
            Circle(LPATTERN2_COPY_40_SKETCH_R)
    extrude(amount=-LPATTERN2_COPY_40_DEPTH, mode=Mode.SUBTRACT)

    # LPattern2 copy 41 sketch → LPattern2 copy 41 (cut, through all)
    with BuildSketch(Plane(origin=(460, 48, 6.35), x_dir=(1, 0, 0), z_dir=(0, 0, 1))):
        with Locations((-252.275, -36)):
            Circle(LPATTERN2_COPY_41_SKETCH_R)
    extrude(amount=-LPATTERN2_COPY_41_DEPTH, mode=Mode.SUBTRACT)

    # LPattern2 copy 42 sketch → LPattern2 copy 42 (cut, through all)
    with BuildSketch(Plane(origin=(460, 96, 6.35), x_dir=(1, 0, 0), z_dir=(0, 0, 1))):
        with Locations((-252.275, -36)):
            Circle(LPATTERN2_COPY_42_SKETCH_R)
    extrude(amount=-LPATTERN2_COPY_42_DEPTH, mode=Mode.SUBTRACT)

    # LPattern2 copy 43 sketch → LPattern2 copy 43 (cut, through all)
    with BuildSketch(Plane(origin=(506, 48, 6.35), x_dir=(1, 0, 0), z_dir=(0, 0, 1))):
        with Locations((-252.275, -36)):
            Circle(LPATTERN2_COPY_43_SKETCH_R)
    extrude(amount=-LPATTERN2_COPY_43_DEPTH, mode=Mode.SUBTRACT)

    # LPattern2 copy 44 sketch → LPattern2 copy 44 (cut, through all)
    with BuildSketch(Plane(origin=(506, 96, 6.35), x_dir=(1, 0, 0), z_dir=(0, 0, 1))):
        with Locations((-252.275, -36)):
            Circle(LPATTERN2_COPY_44_SKETCH_R)
    extrude(amount=-LPATTERN2_COPY_44_DEPTH, mode=Mode.SUBTRACT)


solid = part.part
